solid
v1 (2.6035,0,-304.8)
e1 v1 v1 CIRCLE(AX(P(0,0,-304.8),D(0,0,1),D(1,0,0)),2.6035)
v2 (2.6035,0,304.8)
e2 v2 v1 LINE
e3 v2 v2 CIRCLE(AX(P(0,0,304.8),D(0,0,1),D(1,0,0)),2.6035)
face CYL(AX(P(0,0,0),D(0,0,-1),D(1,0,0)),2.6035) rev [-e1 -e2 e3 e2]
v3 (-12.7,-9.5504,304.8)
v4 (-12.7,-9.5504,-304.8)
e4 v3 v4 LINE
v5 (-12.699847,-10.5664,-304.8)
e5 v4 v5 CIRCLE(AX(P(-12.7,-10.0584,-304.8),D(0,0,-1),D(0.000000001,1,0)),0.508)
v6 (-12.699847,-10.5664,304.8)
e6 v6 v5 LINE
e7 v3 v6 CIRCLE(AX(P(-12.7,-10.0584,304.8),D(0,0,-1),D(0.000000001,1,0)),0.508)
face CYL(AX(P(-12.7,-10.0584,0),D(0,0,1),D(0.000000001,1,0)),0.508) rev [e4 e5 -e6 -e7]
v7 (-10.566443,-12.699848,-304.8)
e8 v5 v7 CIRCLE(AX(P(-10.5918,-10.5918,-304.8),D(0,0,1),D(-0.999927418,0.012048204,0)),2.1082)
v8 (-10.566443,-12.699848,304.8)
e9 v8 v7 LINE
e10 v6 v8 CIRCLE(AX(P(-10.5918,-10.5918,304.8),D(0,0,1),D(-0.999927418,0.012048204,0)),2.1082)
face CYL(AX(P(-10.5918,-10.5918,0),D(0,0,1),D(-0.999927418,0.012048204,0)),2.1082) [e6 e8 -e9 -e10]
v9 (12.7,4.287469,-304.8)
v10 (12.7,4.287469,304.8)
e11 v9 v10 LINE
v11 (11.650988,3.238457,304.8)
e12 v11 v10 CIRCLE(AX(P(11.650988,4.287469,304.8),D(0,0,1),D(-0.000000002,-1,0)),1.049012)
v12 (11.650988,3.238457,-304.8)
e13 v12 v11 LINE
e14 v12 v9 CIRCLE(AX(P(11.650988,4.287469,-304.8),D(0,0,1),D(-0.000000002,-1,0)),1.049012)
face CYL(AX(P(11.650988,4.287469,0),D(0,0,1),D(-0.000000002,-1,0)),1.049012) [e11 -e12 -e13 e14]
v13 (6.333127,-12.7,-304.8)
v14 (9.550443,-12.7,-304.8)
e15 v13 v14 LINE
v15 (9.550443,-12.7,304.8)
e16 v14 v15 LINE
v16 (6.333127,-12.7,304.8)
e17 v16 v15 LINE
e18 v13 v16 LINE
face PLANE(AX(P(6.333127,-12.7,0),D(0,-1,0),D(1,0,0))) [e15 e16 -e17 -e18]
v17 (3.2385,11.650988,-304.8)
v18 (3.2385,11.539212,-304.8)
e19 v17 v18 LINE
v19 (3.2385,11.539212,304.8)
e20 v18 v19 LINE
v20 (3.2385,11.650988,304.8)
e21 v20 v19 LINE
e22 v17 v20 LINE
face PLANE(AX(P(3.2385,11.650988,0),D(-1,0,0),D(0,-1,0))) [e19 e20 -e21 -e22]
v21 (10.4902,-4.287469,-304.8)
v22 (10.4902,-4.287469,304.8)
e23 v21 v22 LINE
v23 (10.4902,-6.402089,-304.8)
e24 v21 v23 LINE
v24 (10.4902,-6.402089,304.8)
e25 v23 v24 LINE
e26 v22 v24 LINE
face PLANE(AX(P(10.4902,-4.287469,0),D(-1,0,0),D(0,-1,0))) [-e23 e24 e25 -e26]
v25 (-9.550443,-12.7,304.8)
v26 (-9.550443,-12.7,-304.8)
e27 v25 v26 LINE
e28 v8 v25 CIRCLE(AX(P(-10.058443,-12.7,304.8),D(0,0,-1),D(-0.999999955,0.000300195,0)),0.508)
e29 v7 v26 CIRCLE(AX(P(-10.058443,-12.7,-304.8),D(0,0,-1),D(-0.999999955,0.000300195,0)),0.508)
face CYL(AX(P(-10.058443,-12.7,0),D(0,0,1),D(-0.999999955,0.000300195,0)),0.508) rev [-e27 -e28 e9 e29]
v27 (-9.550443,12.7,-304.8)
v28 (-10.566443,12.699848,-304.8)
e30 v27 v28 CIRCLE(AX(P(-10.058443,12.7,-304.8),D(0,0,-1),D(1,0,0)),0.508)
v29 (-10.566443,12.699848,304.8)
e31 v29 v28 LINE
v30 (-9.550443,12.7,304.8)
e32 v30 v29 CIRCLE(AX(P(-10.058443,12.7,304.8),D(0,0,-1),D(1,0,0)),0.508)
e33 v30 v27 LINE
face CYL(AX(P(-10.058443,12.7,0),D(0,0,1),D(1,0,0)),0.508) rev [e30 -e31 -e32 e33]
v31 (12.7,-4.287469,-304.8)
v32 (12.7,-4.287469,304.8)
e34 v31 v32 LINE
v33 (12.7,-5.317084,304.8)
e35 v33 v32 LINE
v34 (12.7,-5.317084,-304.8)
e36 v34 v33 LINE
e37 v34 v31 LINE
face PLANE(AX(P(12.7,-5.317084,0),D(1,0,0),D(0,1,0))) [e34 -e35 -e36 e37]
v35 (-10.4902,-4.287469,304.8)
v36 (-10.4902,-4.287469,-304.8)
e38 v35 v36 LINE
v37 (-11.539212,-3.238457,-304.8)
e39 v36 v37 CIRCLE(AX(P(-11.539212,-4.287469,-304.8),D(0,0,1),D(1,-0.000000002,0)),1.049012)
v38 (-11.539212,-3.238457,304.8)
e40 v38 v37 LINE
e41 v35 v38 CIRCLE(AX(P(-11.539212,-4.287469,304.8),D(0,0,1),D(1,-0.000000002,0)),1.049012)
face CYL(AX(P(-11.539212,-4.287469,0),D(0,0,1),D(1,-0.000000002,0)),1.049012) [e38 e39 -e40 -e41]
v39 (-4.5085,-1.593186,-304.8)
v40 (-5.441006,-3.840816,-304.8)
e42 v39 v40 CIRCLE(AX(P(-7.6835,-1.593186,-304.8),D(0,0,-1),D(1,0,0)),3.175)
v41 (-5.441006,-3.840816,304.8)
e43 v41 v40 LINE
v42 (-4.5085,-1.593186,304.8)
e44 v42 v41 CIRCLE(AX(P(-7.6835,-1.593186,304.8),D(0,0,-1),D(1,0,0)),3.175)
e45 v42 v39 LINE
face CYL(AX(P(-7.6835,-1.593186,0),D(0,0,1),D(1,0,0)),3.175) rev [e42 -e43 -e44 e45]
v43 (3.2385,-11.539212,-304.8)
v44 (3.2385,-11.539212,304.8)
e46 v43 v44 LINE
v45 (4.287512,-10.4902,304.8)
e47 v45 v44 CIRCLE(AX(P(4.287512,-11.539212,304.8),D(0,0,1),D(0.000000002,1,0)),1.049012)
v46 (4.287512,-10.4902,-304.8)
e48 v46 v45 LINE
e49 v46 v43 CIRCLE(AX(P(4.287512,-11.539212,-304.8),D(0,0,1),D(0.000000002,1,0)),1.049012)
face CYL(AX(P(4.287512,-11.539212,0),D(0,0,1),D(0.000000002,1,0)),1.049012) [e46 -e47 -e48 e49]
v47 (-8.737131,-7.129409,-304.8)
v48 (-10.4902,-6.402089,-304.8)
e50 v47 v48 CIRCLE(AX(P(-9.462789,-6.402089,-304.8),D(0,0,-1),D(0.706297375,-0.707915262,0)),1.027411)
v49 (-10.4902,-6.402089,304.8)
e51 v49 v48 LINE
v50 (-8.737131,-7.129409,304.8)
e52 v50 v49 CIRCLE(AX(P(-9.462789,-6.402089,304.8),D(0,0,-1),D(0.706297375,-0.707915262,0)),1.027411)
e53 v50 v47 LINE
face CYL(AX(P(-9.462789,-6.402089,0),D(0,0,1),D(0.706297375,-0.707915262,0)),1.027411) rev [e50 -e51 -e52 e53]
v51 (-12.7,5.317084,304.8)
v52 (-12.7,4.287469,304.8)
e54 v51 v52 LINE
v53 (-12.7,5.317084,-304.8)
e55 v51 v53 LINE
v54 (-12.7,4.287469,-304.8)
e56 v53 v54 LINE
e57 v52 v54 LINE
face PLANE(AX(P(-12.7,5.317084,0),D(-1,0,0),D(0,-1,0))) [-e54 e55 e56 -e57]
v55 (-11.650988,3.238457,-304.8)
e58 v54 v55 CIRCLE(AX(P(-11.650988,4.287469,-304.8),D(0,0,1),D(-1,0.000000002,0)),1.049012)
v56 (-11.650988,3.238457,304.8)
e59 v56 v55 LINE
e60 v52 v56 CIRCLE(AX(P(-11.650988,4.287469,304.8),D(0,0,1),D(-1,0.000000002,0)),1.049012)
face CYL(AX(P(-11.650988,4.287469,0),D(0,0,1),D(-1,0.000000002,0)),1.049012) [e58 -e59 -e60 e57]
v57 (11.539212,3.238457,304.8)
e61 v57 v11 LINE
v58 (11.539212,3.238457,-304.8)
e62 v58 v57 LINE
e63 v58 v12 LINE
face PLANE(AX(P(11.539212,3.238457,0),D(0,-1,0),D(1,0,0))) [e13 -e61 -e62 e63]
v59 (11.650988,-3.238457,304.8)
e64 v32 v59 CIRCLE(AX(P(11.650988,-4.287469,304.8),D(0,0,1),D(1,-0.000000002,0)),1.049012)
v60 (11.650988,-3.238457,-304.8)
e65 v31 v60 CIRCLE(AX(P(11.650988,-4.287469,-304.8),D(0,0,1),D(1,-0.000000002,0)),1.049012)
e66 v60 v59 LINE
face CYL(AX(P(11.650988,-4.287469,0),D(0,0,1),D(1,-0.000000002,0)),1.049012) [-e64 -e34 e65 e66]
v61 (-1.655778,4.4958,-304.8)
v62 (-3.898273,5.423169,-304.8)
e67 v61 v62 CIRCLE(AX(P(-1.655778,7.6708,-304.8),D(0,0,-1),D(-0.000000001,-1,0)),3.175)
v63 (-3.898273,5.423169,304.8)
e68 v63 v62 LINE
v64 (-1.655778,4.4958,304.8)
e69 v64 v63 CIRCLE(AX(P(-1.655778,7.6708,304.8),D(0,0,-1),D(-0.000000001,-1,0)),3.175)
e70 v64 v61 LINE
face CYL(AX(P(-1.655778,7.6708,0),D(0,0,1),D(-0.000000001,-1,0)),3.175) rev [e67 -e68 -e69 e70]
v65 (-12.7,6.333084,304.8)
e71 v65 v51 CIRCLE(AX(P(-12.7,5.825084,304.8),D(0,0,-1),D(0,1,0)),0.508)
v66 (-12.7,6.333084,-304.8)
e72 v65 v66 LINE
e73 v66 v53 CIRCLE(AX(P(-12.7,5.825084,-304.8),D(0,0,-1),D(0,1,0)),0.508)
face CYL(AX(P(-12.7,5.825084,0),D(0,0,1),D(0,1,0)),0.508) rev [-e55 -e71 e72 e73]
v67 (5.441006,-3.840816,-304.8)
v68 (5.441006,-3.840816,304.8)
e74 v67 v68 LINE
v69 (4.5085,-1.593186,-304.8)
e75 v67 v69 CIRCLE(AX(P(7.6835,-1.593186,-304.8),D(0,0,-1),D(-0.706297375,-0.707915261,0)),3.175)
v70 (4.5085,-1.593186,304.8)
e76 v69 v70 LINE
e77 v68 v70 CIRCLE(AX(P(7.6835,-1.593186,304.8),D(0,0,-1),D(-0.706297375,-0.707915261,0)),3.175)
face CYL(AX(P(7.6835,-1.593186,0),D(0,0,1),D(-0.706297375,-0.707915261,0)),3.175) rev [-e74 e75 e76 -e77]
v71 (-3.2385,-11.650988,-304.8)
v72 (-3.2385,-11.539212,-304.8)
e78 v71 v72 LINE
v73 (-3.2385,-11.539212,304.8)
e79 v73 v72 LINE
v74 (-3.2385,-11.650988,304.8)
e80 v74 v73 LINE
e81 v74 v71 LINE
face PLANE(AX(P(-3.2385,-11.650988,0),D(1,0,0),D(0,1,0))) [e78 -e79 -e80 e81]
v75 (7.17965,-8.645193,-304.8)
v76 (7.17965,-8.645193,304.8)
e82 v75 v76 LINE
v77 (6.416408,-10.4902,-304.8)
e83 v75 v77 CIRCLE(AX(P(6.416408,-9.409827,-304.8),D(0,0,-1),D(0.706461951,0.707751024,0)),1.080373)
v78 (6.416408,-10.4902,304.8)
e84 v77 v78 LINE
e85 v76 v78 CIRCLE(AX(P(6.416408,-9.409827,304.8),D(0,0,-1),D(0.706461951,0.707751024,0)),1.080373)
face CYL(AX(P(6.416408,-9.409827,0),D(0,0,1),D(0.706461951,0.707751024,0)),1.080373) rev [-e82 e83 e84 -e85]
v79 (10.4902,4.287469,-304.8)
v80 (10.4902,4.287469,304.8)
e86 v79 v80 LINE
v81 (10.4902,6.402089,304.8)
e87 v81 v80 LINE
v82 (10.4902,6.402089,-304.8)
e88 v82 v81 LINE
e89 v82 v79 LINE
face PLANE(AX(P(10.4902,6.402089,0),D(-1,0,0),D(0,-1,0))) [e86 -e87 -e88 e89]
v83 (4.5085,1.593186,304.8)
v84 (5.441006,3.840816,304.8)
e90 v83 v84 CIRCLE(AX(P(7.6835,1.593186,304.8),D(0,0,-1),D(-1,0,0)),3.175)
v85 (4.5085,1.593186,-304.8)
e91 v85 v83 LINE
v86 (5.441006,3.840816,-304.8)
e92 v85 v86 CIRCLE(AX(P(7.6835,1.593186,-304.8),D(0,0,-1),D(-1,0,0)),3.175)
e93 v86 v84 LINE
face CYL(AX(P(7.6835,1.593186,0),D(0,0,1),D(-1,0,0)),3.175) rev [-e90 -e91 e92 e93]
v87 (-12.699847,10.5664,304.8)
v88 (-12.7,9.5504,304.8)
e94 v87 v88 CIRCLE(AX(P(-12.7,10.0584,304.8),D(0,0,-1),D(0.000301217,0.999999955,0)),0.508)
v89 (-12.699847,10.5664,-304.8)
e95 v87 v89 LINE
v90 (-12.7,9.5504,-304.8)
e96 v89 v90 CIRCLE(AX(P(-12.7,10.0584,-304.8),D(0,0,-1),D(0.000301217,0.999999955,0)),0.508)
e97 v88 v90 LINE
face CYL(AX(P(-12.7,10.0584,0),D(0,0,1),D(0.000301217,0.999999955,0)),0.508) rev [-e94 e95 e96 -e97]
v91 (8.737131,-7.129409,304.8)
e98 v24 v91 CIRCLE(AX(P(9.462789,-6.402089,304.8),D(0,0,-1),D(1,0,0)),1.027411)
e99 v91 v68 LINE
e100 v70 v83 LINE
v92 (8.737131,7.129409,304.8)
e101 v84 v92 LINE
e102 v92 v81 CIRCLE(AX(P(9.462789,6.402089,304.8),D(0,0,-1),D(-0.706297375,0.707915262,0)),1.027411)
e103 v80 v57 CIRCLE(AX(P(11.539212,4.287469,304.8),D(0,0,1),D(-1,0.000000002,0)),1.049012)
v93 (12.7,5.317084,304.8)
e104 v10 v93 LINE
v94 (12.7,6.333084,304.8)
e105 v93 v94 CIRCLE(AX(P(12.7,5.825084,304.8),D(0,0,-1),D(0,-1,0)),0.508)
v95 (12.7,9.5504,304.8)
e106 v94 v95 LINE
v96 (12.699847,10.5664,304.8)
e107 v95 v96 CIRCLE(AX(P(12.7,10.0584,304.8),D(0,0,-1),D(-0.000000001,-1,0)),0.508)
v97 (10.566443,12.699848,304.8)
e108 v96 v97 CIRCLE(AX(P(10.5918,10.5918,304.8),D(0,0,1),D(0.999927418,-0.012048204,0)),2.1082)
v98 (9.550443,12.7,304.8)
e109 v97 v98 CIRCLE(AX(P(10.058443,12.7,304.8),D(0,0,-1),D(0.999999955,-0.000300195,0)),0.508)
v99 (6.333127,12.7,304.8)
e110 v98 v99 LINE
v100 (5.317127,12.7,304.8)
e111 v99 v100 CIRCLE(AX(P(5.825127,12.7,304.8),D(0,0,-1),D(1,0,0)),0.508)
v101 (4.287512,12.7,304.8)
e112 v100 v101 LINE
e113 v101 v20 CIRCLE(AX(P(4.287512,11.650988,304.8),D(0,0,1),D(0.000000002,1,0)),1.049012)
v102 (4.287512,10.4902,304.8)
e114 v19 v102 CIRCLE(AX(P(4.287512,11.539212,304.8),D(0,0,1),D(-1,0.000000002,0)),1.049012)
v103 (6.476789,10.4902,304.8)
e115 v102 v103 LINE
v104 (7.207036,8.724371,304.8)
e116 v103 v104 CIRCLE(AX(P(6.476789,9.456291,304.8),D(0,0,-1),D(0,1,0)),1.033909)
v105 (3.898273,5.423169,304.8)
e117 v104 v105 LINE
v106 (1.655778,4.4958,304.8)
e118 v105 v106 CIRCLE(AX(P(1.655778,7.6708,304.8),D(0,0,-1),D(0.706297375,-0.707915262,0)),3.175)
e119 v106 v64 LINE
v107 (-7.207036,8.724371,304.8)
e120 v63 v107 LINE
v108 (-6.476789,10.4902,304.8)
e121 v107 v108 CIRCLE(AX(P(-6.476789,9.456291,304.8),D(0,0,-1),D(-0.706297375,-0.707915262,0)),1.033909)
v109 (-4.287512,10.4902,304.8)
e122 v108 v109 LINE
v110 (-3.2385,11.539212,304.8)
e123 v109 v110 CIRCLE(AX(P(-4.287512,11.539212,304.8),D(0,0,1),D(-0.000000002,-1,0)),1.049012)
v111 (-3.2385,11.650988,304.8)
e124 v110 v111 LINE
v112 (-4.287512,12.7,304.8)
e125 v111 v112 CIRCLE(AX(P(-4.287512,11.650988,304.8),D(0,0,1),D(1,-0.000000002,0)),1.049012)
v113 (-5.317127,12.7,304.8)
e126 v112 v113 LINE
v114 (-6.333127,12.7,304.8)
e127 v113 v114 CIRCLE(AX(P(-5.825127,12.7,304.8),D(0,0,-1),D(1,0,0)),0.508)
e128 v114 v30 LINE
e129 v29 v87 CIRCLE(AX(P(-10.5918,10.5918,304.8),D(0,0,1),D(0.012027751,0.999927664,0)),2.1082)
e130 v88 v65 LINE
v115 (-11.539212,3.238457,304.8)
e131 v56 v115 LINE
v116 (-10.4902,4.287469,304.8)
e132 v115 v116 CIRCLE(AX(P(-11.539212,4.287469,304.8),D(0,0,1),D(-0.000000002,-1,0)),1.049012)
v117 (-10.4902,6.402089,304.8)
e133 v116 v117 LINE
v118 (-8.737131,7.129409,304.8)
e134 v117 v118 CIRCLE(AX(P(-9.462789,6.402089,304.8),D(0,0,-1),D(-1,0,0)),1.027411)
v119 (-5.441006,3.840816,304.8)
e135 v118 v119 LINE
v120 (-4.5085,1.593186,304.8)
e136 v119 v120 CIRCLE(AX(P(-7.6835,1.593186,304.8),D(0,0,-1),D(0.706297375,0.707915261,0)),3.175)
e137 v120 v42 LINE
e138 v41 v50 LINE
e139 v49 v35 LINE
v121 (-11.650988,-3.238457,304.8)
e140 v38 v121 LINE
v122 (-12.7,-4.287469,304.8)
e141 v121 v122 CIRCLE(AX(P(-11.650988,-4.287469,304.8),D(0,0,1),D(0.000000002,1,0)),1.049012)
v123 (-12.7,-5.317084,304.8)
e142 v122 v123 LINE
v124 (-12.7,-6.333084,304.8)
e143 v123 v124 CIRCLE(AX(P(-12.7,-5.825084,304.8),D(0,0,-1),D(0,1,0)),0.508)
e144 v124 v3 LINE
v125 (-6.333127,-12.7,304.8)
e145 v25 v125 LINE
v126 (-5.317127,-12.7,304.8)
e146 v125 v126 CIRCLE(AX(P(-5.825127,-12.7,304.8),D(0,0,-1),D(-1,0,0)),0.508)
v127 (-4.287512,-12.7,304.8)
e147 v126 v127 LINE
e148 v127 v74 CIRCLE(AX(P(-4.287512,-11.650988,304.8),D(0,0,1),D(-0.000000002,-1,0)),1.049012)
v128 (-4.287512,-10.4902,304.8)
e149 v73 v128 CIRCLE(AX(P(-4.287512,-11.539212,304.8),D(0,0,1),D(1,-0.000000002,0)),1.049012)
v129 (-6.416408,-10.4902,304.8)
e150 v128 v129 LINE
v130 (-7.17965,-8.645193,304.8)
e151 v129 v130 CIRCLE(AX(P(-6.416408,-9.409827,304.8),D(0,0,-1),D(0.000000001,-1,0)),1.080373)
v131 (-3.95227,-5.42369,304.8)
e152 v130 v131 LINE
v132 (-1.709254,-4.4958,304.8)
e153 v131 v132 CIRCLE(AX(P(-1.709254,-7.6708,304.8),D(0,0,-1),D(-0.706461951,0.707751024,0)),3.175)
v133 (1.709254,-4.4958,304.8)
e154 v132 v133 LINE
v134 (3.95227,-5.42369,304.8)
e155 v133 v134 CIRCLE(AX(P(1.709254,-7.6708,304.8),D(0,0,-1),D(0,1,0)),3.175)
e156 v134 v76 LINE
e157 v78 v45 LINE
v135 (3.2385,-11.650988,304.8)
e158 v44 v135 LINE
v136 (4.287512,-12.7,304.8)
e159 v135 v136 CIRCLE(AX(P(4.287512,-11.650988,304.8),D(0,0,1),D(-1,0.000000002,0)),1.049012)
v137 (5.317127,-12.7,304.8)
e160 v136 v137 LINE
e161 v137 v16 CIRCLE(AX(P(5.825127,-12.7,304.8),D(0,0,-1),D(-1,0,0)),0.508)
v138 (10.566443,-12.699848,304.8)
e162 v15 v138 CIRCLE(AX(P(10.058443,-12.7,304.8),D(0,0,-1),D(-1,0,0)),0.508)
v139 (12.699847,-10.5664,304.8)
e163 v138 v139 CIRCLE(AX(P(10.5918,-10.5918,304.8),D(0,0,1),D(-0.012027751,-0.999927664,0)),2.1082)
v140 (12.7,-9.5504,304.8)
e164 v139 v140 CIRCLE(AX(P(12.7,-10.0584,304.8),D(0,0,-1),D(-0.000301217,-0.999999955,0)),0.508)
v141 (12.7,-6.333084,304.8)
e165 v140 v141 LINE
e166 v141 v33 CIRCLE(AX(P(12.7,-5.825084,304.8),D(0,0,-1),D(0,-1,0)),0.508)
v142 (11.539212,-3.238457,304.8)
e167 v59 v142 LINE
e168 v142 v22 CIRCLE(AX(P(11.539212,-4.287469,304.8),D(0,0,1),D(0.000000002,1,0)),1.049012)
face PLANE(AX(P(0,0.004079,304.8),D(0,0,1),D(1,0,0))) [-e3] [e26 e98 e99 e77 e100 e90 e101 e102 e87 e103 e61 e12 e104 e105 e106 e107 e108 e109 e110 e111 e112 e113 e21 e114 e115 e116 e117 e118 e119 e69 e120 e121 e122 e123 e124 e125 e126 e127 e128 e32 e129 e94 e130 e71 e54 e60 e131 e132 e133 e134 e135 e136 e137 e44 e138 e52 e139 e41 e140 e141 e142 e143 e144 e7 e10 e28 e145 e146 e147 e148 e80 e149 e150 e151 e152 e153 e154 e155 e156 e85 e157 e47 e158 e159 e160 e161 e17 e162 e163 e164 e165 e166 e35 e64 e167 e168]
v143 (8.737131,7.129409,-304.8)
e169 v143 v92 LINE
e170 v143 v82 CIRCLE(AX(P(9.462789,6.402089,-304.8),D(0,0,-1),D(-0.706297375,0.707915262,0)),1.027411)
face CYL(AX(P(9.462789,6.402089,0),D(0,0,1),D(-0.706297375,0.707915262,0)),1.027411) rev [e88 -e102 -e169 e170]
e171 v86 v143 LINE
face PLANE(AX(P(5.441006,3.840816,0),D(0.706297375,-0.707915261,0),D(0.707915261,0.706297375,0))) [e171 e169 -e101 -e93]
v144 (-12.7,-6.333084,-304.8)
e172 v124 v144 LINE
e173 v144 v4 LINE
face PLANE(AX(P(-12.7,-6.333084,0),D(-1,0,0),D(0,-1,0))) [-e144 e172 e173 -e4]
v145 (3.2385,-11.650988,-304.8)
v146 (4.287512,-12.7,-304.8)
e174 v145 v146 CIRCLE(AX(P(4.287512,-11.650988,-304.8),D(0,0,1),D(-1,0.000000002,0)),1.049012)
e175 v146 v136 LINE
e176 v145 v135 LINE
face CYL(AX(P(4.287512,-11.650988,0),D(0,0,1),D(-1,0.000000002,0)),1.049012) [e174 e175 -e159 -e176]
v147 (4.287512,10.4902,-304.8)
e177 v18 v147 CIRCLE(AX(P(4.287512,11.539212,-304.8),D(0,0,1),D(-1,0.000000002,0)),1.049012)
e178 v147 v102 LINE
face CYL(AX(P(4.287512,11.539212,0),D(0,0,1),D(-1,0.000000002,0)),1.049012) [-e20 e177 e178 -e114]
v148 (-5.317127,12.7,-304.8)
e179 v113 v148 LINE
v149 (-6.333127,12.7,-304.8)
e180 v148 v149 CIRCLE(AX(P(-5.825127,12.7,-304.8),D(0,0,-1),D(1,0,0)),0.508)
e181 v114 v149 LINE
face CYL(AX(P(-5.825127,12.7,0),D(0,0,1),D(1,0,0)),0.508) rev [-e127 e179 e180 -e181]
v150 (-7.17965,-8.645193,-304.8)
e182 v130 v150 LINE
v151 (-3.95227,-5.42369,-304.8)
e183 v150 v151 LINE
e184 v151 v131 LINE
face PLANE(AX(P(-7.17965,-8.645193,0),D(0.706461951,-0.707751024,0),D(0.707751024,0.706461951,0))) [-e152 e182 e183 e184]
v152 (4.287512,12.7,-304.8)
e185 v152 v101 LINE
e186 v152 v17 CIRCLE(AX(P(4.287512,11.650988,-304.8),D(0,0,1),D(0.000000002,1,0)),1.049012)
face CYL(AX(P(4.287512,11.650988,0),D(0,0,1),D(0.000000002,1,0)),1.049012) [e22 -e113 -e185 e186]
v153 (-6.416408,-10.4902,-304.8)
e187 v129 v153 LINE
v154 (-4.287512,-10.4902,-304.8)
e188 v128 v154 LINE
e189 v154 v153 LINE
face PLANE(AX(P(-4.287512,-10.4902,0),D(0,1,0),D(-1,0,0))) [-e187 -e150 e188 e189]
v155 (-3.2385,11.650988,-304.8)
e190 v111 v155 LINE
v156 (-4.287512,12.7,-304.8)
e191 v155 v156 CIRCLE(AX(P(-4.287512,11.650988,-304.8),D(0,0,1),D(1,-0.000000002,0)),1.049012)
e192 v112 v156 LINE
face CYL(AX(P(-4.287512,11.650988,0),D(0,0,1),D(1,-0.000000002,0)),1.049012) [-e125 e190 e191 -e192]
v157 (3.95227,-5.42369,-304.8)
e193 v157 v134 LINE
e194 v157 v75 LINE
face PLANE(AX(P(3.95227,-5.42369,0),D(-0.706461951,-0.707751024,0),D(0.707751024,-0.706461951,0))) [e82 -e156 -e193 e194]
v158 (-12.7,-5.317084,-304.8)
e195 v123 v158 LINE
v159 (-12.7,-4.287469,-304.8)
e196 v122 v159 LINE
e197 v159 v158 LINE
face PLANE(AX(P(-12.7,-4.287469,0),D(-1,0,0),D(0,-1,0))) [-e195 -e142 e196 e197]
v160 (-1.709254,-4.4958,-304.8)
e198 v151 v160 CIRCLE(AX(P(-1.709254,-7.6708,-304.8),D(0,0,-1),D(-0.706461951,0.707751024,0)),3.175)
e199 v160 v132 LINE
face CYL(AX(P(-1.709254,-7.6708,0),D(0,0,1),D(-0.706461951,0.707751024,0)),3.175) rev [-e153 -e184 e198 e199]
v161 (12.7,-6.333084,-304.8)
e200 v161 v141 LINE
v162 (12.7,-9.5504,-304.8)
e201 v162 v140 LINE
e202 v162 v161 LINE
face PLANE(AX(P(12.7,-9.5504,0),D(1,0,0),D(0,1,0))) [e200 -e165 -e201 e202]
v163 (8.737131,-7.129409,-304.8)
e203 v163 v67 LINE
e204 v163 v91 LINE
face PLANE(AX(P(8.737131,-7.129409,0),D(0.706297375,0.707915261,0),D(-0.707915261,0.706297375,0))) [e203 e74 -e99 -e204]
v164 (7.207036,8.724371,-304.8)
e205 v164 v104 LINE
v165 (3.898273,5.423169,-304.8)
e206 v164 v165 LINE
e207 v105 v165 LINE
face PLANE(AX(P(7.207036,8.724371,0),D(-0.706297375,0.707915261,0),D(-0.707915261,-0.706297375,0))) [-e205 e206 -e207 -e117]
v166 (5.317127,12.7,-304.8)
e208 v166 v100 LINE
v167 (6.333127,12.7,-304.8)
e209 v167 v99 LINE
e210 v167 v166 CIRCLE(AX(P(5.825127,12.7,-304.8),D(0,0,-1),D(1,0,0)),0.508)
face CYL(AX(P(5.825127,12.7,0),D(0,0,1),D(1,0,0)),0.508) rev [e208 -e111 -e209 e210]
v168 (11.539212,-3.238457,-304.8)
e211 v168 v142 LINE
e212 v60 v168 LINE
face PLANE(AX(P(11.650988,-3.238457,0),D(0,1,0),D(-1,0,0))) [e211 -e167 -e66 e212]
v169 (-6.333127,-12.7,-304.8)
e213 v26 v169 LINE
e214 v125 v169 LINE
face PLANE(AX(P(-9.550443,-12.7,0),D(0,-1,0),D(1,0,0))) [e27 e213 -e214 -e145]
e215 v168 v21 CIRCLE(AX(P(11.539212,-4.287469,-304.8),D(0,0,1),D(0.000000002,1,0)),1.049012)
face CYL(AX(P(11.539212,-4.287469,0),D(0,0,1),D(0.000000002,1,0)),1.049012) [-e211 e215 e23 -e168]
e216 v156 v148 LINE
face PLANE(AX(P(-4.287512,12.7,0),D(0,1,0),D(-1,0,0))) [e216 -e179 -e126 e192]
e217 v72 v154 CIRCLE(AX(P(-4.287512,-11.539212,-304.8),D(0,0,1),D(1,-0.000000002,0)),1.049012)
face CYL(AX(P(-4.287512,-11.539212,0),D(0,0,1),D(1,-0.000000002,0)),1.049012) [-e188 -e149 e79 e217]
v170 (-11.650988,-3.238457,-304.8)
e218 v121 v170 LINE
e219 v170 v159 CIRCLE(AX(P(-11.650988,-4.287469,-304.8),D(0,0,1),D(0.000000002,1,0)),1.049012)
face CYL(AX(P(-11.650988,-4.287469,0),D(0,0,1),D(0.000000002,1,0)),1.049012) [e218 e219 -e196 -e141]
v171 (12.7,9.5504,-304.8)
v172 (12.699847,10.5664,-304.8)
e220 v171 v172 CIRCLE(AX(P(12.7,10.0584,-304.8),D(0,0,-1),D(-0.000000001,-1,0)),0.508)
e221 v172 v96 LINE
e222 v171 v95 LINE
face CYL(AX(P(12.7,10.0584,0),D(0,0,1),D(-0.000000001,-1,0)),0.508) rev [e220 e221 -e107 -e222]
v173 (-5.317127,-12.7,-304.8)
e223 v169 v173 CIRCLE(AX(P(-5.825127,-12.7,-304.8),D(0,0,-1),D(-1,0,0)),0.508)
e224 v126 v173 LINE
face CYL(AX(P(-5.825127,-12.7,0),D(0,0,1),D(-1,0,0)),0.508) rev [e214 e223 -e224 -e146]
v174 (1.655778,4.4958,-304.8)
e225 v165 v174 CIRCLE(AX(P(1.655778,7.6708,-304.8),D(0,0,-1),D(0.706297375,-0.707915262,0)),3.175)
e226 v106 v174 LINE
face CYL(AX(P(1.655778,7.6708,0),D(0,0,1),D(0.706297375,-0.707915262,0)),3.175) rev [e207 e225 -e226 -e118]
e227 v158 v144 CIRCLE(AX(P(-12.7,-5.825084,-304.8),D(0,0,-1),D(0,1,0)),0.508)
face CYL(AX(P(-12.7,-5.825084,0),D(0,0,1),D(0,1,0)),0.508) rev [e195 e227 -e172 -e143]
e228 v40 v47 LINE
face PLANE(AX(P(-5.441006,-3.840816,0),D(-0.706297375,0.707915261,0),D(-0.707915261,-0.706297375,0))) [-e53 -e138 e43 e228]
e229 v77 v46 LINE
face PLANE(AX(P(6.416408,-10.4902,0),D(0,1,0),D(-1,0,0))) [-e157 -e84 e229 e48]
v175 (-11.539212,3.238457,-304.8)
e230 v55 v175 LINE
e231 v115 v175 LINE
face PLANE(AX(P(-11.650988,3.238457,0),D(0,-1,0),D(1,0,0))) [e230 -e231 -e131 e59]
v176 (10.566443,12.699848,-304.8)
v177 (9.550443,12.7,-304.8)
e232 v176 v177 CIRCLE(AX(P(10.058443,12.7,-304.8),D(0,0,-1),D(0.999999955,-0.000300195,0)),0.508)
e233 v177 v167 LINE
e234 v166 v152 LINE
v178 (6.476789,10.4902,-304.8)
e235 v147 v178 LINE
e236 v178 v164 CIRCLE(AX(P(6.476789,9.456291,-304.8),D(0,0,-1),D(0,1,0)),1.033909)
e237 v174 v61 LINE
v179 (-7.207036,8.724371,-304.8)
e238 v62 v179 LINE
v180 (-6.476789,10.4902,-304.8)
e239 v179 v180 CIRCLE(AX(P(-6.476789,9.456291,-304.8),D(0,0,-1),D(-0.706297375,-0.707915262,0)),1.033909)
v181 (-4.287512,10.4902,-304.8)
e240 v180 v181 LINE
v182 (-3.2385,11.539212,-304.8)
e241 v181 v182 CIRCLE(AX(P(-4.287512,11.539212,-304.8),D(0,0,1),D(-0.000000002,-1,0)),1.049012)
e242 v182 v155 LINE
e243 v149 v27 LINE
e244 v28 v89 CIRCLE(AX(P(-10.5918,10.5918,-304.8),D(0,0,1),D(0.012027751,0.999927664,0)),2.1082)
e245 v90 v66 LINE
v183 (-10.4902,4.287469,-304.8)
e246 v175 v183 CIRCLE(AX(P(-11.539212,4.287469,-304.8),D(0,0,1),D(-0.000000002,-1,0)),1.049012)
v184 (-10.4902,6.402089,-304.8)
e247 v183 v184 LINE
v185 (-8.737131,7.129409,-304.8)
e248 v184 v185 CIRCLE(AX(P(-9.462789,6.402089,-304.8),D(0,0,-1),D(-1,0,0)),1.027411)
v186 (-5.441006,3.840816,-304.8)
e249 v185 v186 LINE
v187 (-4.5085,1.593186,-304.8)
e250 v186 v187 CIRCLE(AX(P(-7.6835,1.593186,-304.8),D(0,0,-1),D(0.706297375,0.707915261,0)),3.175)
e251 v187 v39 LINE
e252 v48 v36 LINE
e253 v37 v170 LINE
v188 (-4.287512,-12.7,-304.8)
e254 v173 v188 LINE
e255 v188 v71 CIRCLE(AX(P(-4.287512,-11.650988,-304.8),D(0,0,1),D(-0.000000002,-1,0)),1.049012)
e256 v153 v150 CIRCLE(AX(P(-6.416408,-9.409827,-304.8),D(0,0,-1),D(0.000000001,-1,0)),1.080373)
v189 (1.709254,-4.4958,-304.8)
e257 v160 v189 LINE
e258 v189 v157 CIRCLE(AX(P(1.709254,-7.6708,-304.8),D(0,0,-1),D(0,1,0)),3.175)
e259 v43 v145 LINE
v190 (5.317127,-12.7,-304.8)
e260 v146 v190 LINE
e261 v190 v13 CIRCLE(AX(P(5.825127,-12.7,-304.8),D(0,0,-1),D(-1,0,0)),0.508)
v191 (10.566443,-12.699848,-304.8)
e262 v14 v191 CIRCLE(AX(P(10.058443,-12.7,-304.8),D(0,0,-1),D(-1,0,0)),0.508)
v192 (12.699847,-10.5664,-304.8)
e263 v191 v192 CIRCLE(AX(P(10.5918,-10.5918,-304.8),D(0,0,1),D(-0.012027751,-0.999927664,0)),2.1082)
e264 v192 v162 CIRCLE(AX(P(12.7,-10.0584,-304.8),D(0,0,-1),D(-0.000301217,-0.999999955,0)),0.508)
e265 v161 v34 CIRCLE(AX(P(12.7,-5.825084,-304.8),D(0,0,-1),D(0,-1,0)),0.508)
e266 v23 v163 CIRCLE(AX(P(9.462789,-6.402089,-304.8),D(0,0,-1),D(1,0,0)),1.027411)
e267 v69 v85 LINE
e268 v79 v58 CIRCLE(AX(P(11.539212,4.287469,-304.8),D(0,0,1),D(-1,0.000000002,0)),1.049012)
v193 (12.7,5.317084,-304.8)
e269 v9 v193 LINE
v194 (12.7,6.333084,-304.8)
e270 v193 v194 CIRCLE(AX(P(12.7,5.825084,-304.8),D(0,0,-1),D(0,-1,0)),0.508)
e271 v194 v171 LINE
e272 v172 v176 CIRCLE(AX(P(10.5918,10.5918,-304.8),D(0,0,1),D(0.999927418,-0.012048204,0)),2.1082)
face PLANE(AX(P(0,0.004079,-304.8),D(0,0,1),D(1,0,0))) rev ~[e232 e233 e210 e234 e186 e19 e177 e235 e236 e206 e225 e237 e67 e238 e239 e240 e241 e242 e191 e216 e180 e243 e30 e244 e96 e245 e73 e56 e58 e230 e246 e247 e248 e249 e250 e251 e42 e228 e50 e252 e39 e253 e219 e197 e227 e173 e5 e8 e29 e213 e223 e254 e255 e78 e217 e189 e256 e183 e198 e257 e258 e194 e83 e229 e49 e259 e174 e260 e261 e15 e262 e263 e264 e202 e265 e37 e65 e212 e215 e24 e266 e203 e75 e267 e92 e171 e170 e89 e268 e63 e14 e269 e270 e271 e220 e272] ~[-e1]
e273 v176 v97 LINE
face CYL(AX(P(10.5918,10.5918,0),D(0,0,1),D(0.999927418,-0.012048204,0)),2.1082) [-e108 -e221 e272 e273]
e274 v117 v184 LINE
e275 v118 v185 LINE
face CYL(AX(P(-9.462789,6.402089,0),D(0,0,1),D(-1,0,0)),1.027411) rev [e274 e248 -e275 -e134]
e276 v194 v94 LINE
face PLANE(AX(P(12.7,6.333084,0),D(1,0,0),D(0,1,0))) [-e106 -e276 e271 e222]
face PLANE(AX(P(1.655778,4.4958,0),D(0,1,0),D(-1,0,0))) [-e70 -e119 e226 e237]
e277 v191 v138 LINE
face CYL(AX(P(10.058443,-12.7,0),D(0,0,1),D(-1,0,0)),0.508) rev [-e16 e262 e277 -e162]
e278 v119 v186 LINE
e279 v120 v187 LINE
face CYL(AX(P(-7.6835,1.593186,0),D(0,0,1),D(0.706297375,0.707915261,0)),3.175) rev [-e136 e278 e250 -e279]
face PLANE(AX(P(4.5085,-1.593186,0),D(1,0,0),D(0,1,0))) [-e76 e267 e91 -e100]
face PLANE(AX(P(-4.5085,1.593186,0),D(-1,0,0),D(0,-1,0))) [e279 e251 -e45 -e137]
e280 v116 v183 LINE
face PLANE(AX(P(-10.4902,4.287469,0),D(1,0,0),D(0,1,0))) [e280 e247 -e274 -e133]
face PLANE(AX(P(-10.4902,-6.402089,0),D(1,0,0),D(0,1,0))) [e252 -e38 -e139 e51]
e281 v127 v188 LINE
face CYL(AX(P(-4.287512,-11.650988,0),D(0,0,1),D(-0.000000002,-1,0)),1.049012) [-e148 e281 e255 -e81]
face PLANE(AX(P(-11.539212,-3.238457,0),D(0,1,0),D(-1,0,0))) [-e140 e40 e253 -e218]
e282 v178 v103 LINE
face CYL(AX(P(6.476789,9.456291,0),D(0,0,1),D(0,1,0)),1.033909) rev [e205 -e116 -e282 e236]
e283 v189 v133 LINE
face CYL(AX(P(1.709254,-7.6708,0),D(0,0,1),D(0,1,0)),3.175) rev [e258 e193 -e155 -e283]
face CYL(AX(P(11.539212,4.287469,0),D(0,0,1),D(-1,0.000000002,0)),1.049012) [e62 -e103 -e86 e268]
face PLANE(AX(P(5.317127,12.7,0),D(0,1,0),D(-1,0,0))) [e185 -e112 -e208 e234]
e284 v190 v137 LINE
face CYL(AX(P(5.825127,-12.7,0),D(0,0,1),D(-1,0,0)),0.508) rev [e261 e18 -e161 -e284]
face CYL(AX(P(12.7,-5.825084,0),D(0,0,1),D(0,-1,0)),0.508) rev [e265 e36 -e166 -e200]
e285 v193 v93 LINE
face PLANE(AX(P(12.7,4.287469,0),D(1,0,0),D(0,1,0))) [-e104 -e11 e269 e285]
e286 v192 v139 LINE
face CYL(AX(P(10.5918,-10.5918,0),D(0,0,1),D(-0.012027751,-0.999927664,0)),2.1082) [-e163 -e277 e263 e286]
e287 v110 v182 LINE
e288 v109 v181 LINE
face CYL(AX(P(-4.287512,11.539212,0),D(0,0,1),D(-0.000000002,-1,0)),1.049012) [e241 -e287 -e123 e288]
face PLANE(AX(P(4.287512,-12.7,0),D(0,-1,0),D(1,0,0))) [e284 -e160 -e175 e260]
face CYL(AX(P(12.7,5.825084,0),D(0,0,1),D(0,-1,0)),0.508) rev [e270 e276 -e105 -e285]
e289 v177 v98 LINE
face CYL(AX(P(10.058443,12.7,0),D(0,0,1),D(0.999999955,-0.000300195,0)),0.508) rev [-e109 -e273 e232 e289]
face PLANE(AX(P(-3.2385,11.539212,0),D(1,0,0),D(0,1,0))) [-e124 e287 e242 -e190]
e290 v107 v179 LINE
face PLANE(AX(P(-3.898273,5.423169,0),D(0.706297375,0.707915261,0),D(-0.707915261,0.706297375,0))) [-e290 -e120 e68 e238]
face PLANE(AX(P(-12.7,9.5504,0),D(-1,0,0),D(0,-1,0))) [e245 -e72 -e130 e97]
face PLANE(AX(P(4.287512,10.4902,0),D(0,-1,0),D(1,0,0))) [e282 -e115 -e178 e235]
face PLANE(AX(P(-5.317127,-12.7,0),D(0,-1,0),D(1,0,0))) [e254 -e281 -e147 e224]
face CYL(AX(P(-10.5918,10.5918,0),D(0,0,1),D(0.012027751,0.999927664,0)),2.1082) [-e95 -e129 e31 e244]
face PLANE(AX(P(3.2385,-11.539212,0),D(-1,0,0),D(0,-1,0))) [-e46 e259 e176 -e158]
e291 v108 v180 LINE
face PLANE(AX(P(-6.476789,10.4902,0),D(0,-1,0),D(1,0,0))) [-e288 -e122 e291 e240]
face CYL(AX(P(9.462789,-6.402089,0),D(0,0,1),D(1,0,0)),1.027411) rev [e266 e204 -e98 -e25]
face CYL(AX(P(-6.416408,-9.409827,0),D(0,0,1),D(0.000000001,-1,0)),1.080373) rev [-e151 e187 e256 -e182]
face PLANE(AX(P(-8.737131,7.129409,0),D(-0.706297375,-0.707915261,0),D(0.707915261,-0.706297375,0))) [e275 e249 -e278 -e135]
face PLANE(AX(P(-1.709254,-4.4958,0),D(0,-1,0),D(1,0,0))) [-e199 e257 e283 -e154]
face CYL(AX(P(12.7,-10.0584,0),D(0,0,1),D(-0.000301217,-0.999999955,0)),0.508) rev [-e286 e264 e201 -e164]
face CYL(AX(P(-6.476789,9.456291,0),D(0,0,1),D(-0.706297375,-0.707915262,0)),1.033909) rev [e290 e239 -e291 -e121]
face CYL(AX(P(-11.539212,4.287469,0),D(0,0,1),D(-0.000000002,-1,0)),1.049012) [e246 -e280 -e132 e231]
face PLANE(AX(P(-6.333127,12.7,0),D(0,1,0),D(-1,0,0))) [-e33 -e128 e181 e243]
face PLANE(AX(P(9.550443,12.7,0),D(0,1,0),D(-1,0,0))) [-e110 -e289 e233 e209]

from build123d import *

# Parameters (mm, degrees)
SKETCH1_R           = 2.6035
BOSS_EXTRUDE1_DEPTH = 304.8


with BuildPart() as part:
    # Sketch1 → Boss-Extrude1 (new body, symmetric)
    with BuildSketch(Plane.XY):
        with BuildLine():
            Line((-7.179650497, -8.645192506), (-3.952270251, -5.423690499))
            ThreePointArc((-3.952270251, -5.423690499), (-2.922936451, -4.736929036), (-1.709253557, -4.4958))
            Line((-1.709253557, -4.4958), (1.709253557, -4.4958))
            ThreePointArc((1.709253557, -4.4958), (2.922936451, -4.736929036), (3.952270251, -5.423690499))
            Line((3.952270251, -5.423690499), (7.179650497, -8.645192506))
            ThreePointArc((7.179650497, -8.645192506), (7.41473083, -9.822813117), (6.416408329, -10.4902))
            Line((6.416408329, -10.4902), (4.287512407, -10.4902))
            ThreePointArc((4.287512407, -10.4902), (3.54574862, -10.79744862), (3.2385, -11.539212407))
            Line((3.2385, -11.539212407), (3.2385, -11.650987593))
            ThreePointArc((3.2385, -11.650987593), (3.54574862, -12.39275138), (4.287512407, -12.7))
            Line((4.287512407, -12.7), (5.317126718, -12.7))
            ThreePointArc((5.317126718, -12.7), (5.825126718, -12.192), (6.333126718, -12.7))
            Line((6.333126718, -12.7), (9.550443118, -12.7))
            ThreePointArc((9.550443118, -12.7), (10.058366869, -12.192000006), (10.566443095, -12.699847501))
            ThreePointArc((10.566443095, -12.699847501), (12.082537762, -12.08250727), (12.699846982, -10.566399977))
            ThreePointArc((12.699846982, -10.566399977), (12.192000006, -10.058323491), (12.7, -9.5504))
            Line((12.7, -9.5504), (12.7, -6.3330836))
            ThreePointArc((12.7, -6.3330836), (12.192, -5.8250836), (12.7, -5.3170836))
            Line((12.7, -5.3170836), (12.7, -4.287469289))
            ThreePointArc((12.7, -4.287469289), (12.39275138, -3.545705502), (11.650987593, -3.238456882))
            Line((11.650987593, -3.238456882), (11.539212407, -3.238456882))
            ThreePointArc((11.539212407, -3.238456882), (10.79744862, -3.545705502), (10.4902, -4.287469289))
            Line((10.4902, -4.287469289), (10.4902, -6.402089023))
            ThreePointArc((10.4902, -6.402089023), (9.856505071, -7.351067942), (8.737131347, -7.129408934))
            Line((8.737131347, -7.129408934), (5.441005833, -3.840816462))
            ThreePointArc((5.441005833, -3.840816462), (4.750877967, -2.809883091), (4.5085, -1.593185507))
            Line((4.5085, -1.593185507), (4.5085, 1.593185507))
            ThreePointArc((4.5085, 1.593185507), (4.750877967, 2.809883091), (5.441005833, 3.840816462))
            Line((5.441005833, 3.840816462), (8.737131347, 7.129408934))
            ThreePointArc((8.737131347, 7.129408934), (9.856505071, 7.351067942), (10.4902, 6.402089023))
            Line((10.4902, 6.402089023), (10.4902, 4.287469289))
            ThreePointArc((10.4902, 4.287469289), (10.79744862, 3.545705502), (11.539212407, 3.238456882))
            Line((11.539212407, 3.238456882), (11.650987593, 3.238456882))
            ThreePointArc((11.650987593, 3.238456882), (12.39275138, 3.545705502), (12.7, 4.287469289))
            Line((12.7, 4.287469289), (12.7, 5.3170836))
            ThreePointArc((12.7, 5.3170836), (12.192, 5.8250836), (12.7, 6.3330836))
            Line((12.7, 6.3330836), (12.7, 9.5504))
            ThreePointArc((12.7, 9.5504), (12.192000006, 10.058323491), (12.699846982, 10.566399977))
            ThreePointArc((12.699846982, 10.566399977), (12.082537762, 12.08250727), (10.566443095, 12.699847501))
            ThreePointArc((10.566443095, 12.699847501), (10.058366869, 12.192000006), (9.550443118, 12.7))
            Line((9.550443118, 12.7), (6.333126718, 12.7))
            ThreePointArc((6.333126718, 12.7), (5.825126718, 12.192), (5.317126718, 12.7))
            Line((5.317126718, 12.7), (4.287512407, 12.7))
            ThreePointArc((4.287512407, 12.7), (3.54574862, 12.39275138), (3.2385, 11.650987593))
            Line((3.2385, 11.650987593), (3.2385, 11.539212407))
            ThreePointArc((3.2385, 11.539212407), (3.54574862, 10.79744862), (4.287512407, 10.4902))
            Line((4.287512407, 10.4902), (6.476788598, 10.4902))
            ThreePointArc((6.476788598, 10.4902), (7.432222385, 9.85140422), (7.207036008, 8.724370562))
            Line((7.207036008, 8.724370562), (3.898272566, 5.423169045))
            ThreePointArc((3.898272566, 5.423169045), (2.869120213, 4.736787962), (1.655778399, 4.4958))
            Line((1.655778399, 4.4958), (-1.655778399, 4.4958))
            ThreePointArc((-1.655778399, 4.4958), (-2.869120213, 4.736787962), (-3.898272566, 5.423169045))
            Line((-3.898272566, 5.423169045), (-7.207036008, 8.724370562))
            ThreePointArc((-7.207036008, 8.724370562), (-7.432222385, 9.85140422), (-6.476788598, 10.4902))
            Line((-6.476788598, 10.4902), (-4.287512407, 10.4902))
            ThreePointArc((-4.287512407, 10.4902), (-3.54574862, 10.79744862), (-3.2385, 11.539212407))
            Line((-3.2385, 11.539212407), (-3.2385, 11.650987593))
            ThreePointArc((-3.2385, 11.650987593), (-3.54574862, 12.39275138), (-4.287512407, 12.7))
            Line((-4.287512407, 12.7), (-5.317126718, 12.7))
            ThreePointArc((-5.317126718, 12.7), (-5.825126718, 12.192), (-6.333126718, 12.7))
            Line((-6.333126718, 12.7), (-9.550443118, 12.7))
            ThreePointArc((-9.550443118, 12.7), (-10.058366869, 12.192000006), (-10.566443095, 12.699847501))
            ThreePointArc((-10.566443095, 12.699847501), (-12.082537762, 12.08250727), (-12.699846982, 10.566399977))
            ThreePointArc((-12.699846982, 10.566399977), (-12.192000006, 10.058323491), (-12.7, 9.5504))
            Line((-12.7, 9.5504), (-12.7, 6.3330836))
            ThreePointArc((-12.7, 6.3330836), (-12.192, 5.8250836), (-12.7, 5.3170836))
            Line((-12.7, 5.3170836), (-12.7, 4.287469289))
            ThreePointArc((-12.7, 4.287469289), (-12.39275138, 3.545705502), (-11.650987593, 3.238456882))
            Line((-11.650987593, 3.238456882), (-11.539212407, 3.238456882))
            ThreePointArc((-11.539212407, 3.238456882), (-10.79744862, 3.545705502), (-10.4902, 4.287469289))
            Line((-10.4902, 4.287469289), (-10.4902, 6.402089023))
            ThreePointArc((-10.4902, 6.402089023), (-9.856505071, 7.351067942), (-8.737131347, 7.129408934))
            Line((-8.737131347, 7.129408934), (-5.441005833, 3.840816462))
            ThreePointArc((-5.441005833, 3.840816462), (-4.750877967, 2.809883091), (-4.5085, 1.593185507))
            Line((-4.5085, 1.593185507), (-4.5085, -1.593185507))
            ThreePointArc((-4.5085, -1.593185507), (-4.750877967, -2.809883091), (-5.441005833, -3.840816462))
            Line((-5.441005833, -3.840816462), (-8.737131347, -7.129408934))
            ThreePointArc((-8.737131347, -7.129408934), (-9.856505071, -7.351067942), (-10.4902, -6.402089023))
            Line((-10.4902, -6.402089023), (-10.4902, -4.287469289))
            ThreePointArc((-10.4902, -4.287469289), (-10.79744862, -3.545705502), (-11.539212407, -3.238456882))
            Line((-11.539212407, -3.238456882), (-11.650987593, -3.238456882))
            ThreePointArc((-11.650987593, -3.238456882), (-12.39275138, -3.545705502), (-12.7, -4.287469289))
            Line((-12.7, -4.287469289), (-12.7, -5.3170836))
            ThreePointArc((-12.7, -5.3170836), (-12.192, -5.8250836), (-12.7, -6.3330836))
            Line((-12.7, -6.3330836), (-12.7, -9.5504))
            ThreePointArc((-12.7, -9.5504), (-12.192000006, -10.058323491), (-12.699846982, -10.566399977))
            ThreePointArc((-12.699846982, -10.566399977), (-12.082537762, -12.08250727), (-10.566443095, -12.699847501))
            ThreePointArc((-10.566443095, -12.699847501), (-10.058366869, -12.192000006), (-9.550443118, -12.7))
            Line((-9.550443118, -12.7), (-6.333126718, -12.7))
            ThreePointArc((-6.333126718, -12.7), (-5.825126718, -12.192), (-5.317126718, -12.7))
            Line((-5.317126718, -12.7), (-4.287512407, -12.7))
            ThreePointArc((-4.287512407, -12.7), (-3.54574862, -12.39275138), (-3.2385, -11.650987593))
            Line((-3.2385, -11.650987593), (-3.2385, -11.539212407))
            ThreePointArc((-3.2385, -11.539212407), (-3.54574862, -10.79744862), (-4.287512407, -10.4902))
            Line((-4.287512407, -10.4902), (-6.416408329, -10.4902))
            ThreePointArc((-6.416408329, -10.4902), (-7.41473083, -9.822813117), (-7.179650497, -8.645192506))
        make_face()
        Circle(SKETCH1_R, mode=Mode.SUBTRACT)
    extrude(amount=BOSS_EXTRUDE1_DEPTH, both=True)


solid = part.part
